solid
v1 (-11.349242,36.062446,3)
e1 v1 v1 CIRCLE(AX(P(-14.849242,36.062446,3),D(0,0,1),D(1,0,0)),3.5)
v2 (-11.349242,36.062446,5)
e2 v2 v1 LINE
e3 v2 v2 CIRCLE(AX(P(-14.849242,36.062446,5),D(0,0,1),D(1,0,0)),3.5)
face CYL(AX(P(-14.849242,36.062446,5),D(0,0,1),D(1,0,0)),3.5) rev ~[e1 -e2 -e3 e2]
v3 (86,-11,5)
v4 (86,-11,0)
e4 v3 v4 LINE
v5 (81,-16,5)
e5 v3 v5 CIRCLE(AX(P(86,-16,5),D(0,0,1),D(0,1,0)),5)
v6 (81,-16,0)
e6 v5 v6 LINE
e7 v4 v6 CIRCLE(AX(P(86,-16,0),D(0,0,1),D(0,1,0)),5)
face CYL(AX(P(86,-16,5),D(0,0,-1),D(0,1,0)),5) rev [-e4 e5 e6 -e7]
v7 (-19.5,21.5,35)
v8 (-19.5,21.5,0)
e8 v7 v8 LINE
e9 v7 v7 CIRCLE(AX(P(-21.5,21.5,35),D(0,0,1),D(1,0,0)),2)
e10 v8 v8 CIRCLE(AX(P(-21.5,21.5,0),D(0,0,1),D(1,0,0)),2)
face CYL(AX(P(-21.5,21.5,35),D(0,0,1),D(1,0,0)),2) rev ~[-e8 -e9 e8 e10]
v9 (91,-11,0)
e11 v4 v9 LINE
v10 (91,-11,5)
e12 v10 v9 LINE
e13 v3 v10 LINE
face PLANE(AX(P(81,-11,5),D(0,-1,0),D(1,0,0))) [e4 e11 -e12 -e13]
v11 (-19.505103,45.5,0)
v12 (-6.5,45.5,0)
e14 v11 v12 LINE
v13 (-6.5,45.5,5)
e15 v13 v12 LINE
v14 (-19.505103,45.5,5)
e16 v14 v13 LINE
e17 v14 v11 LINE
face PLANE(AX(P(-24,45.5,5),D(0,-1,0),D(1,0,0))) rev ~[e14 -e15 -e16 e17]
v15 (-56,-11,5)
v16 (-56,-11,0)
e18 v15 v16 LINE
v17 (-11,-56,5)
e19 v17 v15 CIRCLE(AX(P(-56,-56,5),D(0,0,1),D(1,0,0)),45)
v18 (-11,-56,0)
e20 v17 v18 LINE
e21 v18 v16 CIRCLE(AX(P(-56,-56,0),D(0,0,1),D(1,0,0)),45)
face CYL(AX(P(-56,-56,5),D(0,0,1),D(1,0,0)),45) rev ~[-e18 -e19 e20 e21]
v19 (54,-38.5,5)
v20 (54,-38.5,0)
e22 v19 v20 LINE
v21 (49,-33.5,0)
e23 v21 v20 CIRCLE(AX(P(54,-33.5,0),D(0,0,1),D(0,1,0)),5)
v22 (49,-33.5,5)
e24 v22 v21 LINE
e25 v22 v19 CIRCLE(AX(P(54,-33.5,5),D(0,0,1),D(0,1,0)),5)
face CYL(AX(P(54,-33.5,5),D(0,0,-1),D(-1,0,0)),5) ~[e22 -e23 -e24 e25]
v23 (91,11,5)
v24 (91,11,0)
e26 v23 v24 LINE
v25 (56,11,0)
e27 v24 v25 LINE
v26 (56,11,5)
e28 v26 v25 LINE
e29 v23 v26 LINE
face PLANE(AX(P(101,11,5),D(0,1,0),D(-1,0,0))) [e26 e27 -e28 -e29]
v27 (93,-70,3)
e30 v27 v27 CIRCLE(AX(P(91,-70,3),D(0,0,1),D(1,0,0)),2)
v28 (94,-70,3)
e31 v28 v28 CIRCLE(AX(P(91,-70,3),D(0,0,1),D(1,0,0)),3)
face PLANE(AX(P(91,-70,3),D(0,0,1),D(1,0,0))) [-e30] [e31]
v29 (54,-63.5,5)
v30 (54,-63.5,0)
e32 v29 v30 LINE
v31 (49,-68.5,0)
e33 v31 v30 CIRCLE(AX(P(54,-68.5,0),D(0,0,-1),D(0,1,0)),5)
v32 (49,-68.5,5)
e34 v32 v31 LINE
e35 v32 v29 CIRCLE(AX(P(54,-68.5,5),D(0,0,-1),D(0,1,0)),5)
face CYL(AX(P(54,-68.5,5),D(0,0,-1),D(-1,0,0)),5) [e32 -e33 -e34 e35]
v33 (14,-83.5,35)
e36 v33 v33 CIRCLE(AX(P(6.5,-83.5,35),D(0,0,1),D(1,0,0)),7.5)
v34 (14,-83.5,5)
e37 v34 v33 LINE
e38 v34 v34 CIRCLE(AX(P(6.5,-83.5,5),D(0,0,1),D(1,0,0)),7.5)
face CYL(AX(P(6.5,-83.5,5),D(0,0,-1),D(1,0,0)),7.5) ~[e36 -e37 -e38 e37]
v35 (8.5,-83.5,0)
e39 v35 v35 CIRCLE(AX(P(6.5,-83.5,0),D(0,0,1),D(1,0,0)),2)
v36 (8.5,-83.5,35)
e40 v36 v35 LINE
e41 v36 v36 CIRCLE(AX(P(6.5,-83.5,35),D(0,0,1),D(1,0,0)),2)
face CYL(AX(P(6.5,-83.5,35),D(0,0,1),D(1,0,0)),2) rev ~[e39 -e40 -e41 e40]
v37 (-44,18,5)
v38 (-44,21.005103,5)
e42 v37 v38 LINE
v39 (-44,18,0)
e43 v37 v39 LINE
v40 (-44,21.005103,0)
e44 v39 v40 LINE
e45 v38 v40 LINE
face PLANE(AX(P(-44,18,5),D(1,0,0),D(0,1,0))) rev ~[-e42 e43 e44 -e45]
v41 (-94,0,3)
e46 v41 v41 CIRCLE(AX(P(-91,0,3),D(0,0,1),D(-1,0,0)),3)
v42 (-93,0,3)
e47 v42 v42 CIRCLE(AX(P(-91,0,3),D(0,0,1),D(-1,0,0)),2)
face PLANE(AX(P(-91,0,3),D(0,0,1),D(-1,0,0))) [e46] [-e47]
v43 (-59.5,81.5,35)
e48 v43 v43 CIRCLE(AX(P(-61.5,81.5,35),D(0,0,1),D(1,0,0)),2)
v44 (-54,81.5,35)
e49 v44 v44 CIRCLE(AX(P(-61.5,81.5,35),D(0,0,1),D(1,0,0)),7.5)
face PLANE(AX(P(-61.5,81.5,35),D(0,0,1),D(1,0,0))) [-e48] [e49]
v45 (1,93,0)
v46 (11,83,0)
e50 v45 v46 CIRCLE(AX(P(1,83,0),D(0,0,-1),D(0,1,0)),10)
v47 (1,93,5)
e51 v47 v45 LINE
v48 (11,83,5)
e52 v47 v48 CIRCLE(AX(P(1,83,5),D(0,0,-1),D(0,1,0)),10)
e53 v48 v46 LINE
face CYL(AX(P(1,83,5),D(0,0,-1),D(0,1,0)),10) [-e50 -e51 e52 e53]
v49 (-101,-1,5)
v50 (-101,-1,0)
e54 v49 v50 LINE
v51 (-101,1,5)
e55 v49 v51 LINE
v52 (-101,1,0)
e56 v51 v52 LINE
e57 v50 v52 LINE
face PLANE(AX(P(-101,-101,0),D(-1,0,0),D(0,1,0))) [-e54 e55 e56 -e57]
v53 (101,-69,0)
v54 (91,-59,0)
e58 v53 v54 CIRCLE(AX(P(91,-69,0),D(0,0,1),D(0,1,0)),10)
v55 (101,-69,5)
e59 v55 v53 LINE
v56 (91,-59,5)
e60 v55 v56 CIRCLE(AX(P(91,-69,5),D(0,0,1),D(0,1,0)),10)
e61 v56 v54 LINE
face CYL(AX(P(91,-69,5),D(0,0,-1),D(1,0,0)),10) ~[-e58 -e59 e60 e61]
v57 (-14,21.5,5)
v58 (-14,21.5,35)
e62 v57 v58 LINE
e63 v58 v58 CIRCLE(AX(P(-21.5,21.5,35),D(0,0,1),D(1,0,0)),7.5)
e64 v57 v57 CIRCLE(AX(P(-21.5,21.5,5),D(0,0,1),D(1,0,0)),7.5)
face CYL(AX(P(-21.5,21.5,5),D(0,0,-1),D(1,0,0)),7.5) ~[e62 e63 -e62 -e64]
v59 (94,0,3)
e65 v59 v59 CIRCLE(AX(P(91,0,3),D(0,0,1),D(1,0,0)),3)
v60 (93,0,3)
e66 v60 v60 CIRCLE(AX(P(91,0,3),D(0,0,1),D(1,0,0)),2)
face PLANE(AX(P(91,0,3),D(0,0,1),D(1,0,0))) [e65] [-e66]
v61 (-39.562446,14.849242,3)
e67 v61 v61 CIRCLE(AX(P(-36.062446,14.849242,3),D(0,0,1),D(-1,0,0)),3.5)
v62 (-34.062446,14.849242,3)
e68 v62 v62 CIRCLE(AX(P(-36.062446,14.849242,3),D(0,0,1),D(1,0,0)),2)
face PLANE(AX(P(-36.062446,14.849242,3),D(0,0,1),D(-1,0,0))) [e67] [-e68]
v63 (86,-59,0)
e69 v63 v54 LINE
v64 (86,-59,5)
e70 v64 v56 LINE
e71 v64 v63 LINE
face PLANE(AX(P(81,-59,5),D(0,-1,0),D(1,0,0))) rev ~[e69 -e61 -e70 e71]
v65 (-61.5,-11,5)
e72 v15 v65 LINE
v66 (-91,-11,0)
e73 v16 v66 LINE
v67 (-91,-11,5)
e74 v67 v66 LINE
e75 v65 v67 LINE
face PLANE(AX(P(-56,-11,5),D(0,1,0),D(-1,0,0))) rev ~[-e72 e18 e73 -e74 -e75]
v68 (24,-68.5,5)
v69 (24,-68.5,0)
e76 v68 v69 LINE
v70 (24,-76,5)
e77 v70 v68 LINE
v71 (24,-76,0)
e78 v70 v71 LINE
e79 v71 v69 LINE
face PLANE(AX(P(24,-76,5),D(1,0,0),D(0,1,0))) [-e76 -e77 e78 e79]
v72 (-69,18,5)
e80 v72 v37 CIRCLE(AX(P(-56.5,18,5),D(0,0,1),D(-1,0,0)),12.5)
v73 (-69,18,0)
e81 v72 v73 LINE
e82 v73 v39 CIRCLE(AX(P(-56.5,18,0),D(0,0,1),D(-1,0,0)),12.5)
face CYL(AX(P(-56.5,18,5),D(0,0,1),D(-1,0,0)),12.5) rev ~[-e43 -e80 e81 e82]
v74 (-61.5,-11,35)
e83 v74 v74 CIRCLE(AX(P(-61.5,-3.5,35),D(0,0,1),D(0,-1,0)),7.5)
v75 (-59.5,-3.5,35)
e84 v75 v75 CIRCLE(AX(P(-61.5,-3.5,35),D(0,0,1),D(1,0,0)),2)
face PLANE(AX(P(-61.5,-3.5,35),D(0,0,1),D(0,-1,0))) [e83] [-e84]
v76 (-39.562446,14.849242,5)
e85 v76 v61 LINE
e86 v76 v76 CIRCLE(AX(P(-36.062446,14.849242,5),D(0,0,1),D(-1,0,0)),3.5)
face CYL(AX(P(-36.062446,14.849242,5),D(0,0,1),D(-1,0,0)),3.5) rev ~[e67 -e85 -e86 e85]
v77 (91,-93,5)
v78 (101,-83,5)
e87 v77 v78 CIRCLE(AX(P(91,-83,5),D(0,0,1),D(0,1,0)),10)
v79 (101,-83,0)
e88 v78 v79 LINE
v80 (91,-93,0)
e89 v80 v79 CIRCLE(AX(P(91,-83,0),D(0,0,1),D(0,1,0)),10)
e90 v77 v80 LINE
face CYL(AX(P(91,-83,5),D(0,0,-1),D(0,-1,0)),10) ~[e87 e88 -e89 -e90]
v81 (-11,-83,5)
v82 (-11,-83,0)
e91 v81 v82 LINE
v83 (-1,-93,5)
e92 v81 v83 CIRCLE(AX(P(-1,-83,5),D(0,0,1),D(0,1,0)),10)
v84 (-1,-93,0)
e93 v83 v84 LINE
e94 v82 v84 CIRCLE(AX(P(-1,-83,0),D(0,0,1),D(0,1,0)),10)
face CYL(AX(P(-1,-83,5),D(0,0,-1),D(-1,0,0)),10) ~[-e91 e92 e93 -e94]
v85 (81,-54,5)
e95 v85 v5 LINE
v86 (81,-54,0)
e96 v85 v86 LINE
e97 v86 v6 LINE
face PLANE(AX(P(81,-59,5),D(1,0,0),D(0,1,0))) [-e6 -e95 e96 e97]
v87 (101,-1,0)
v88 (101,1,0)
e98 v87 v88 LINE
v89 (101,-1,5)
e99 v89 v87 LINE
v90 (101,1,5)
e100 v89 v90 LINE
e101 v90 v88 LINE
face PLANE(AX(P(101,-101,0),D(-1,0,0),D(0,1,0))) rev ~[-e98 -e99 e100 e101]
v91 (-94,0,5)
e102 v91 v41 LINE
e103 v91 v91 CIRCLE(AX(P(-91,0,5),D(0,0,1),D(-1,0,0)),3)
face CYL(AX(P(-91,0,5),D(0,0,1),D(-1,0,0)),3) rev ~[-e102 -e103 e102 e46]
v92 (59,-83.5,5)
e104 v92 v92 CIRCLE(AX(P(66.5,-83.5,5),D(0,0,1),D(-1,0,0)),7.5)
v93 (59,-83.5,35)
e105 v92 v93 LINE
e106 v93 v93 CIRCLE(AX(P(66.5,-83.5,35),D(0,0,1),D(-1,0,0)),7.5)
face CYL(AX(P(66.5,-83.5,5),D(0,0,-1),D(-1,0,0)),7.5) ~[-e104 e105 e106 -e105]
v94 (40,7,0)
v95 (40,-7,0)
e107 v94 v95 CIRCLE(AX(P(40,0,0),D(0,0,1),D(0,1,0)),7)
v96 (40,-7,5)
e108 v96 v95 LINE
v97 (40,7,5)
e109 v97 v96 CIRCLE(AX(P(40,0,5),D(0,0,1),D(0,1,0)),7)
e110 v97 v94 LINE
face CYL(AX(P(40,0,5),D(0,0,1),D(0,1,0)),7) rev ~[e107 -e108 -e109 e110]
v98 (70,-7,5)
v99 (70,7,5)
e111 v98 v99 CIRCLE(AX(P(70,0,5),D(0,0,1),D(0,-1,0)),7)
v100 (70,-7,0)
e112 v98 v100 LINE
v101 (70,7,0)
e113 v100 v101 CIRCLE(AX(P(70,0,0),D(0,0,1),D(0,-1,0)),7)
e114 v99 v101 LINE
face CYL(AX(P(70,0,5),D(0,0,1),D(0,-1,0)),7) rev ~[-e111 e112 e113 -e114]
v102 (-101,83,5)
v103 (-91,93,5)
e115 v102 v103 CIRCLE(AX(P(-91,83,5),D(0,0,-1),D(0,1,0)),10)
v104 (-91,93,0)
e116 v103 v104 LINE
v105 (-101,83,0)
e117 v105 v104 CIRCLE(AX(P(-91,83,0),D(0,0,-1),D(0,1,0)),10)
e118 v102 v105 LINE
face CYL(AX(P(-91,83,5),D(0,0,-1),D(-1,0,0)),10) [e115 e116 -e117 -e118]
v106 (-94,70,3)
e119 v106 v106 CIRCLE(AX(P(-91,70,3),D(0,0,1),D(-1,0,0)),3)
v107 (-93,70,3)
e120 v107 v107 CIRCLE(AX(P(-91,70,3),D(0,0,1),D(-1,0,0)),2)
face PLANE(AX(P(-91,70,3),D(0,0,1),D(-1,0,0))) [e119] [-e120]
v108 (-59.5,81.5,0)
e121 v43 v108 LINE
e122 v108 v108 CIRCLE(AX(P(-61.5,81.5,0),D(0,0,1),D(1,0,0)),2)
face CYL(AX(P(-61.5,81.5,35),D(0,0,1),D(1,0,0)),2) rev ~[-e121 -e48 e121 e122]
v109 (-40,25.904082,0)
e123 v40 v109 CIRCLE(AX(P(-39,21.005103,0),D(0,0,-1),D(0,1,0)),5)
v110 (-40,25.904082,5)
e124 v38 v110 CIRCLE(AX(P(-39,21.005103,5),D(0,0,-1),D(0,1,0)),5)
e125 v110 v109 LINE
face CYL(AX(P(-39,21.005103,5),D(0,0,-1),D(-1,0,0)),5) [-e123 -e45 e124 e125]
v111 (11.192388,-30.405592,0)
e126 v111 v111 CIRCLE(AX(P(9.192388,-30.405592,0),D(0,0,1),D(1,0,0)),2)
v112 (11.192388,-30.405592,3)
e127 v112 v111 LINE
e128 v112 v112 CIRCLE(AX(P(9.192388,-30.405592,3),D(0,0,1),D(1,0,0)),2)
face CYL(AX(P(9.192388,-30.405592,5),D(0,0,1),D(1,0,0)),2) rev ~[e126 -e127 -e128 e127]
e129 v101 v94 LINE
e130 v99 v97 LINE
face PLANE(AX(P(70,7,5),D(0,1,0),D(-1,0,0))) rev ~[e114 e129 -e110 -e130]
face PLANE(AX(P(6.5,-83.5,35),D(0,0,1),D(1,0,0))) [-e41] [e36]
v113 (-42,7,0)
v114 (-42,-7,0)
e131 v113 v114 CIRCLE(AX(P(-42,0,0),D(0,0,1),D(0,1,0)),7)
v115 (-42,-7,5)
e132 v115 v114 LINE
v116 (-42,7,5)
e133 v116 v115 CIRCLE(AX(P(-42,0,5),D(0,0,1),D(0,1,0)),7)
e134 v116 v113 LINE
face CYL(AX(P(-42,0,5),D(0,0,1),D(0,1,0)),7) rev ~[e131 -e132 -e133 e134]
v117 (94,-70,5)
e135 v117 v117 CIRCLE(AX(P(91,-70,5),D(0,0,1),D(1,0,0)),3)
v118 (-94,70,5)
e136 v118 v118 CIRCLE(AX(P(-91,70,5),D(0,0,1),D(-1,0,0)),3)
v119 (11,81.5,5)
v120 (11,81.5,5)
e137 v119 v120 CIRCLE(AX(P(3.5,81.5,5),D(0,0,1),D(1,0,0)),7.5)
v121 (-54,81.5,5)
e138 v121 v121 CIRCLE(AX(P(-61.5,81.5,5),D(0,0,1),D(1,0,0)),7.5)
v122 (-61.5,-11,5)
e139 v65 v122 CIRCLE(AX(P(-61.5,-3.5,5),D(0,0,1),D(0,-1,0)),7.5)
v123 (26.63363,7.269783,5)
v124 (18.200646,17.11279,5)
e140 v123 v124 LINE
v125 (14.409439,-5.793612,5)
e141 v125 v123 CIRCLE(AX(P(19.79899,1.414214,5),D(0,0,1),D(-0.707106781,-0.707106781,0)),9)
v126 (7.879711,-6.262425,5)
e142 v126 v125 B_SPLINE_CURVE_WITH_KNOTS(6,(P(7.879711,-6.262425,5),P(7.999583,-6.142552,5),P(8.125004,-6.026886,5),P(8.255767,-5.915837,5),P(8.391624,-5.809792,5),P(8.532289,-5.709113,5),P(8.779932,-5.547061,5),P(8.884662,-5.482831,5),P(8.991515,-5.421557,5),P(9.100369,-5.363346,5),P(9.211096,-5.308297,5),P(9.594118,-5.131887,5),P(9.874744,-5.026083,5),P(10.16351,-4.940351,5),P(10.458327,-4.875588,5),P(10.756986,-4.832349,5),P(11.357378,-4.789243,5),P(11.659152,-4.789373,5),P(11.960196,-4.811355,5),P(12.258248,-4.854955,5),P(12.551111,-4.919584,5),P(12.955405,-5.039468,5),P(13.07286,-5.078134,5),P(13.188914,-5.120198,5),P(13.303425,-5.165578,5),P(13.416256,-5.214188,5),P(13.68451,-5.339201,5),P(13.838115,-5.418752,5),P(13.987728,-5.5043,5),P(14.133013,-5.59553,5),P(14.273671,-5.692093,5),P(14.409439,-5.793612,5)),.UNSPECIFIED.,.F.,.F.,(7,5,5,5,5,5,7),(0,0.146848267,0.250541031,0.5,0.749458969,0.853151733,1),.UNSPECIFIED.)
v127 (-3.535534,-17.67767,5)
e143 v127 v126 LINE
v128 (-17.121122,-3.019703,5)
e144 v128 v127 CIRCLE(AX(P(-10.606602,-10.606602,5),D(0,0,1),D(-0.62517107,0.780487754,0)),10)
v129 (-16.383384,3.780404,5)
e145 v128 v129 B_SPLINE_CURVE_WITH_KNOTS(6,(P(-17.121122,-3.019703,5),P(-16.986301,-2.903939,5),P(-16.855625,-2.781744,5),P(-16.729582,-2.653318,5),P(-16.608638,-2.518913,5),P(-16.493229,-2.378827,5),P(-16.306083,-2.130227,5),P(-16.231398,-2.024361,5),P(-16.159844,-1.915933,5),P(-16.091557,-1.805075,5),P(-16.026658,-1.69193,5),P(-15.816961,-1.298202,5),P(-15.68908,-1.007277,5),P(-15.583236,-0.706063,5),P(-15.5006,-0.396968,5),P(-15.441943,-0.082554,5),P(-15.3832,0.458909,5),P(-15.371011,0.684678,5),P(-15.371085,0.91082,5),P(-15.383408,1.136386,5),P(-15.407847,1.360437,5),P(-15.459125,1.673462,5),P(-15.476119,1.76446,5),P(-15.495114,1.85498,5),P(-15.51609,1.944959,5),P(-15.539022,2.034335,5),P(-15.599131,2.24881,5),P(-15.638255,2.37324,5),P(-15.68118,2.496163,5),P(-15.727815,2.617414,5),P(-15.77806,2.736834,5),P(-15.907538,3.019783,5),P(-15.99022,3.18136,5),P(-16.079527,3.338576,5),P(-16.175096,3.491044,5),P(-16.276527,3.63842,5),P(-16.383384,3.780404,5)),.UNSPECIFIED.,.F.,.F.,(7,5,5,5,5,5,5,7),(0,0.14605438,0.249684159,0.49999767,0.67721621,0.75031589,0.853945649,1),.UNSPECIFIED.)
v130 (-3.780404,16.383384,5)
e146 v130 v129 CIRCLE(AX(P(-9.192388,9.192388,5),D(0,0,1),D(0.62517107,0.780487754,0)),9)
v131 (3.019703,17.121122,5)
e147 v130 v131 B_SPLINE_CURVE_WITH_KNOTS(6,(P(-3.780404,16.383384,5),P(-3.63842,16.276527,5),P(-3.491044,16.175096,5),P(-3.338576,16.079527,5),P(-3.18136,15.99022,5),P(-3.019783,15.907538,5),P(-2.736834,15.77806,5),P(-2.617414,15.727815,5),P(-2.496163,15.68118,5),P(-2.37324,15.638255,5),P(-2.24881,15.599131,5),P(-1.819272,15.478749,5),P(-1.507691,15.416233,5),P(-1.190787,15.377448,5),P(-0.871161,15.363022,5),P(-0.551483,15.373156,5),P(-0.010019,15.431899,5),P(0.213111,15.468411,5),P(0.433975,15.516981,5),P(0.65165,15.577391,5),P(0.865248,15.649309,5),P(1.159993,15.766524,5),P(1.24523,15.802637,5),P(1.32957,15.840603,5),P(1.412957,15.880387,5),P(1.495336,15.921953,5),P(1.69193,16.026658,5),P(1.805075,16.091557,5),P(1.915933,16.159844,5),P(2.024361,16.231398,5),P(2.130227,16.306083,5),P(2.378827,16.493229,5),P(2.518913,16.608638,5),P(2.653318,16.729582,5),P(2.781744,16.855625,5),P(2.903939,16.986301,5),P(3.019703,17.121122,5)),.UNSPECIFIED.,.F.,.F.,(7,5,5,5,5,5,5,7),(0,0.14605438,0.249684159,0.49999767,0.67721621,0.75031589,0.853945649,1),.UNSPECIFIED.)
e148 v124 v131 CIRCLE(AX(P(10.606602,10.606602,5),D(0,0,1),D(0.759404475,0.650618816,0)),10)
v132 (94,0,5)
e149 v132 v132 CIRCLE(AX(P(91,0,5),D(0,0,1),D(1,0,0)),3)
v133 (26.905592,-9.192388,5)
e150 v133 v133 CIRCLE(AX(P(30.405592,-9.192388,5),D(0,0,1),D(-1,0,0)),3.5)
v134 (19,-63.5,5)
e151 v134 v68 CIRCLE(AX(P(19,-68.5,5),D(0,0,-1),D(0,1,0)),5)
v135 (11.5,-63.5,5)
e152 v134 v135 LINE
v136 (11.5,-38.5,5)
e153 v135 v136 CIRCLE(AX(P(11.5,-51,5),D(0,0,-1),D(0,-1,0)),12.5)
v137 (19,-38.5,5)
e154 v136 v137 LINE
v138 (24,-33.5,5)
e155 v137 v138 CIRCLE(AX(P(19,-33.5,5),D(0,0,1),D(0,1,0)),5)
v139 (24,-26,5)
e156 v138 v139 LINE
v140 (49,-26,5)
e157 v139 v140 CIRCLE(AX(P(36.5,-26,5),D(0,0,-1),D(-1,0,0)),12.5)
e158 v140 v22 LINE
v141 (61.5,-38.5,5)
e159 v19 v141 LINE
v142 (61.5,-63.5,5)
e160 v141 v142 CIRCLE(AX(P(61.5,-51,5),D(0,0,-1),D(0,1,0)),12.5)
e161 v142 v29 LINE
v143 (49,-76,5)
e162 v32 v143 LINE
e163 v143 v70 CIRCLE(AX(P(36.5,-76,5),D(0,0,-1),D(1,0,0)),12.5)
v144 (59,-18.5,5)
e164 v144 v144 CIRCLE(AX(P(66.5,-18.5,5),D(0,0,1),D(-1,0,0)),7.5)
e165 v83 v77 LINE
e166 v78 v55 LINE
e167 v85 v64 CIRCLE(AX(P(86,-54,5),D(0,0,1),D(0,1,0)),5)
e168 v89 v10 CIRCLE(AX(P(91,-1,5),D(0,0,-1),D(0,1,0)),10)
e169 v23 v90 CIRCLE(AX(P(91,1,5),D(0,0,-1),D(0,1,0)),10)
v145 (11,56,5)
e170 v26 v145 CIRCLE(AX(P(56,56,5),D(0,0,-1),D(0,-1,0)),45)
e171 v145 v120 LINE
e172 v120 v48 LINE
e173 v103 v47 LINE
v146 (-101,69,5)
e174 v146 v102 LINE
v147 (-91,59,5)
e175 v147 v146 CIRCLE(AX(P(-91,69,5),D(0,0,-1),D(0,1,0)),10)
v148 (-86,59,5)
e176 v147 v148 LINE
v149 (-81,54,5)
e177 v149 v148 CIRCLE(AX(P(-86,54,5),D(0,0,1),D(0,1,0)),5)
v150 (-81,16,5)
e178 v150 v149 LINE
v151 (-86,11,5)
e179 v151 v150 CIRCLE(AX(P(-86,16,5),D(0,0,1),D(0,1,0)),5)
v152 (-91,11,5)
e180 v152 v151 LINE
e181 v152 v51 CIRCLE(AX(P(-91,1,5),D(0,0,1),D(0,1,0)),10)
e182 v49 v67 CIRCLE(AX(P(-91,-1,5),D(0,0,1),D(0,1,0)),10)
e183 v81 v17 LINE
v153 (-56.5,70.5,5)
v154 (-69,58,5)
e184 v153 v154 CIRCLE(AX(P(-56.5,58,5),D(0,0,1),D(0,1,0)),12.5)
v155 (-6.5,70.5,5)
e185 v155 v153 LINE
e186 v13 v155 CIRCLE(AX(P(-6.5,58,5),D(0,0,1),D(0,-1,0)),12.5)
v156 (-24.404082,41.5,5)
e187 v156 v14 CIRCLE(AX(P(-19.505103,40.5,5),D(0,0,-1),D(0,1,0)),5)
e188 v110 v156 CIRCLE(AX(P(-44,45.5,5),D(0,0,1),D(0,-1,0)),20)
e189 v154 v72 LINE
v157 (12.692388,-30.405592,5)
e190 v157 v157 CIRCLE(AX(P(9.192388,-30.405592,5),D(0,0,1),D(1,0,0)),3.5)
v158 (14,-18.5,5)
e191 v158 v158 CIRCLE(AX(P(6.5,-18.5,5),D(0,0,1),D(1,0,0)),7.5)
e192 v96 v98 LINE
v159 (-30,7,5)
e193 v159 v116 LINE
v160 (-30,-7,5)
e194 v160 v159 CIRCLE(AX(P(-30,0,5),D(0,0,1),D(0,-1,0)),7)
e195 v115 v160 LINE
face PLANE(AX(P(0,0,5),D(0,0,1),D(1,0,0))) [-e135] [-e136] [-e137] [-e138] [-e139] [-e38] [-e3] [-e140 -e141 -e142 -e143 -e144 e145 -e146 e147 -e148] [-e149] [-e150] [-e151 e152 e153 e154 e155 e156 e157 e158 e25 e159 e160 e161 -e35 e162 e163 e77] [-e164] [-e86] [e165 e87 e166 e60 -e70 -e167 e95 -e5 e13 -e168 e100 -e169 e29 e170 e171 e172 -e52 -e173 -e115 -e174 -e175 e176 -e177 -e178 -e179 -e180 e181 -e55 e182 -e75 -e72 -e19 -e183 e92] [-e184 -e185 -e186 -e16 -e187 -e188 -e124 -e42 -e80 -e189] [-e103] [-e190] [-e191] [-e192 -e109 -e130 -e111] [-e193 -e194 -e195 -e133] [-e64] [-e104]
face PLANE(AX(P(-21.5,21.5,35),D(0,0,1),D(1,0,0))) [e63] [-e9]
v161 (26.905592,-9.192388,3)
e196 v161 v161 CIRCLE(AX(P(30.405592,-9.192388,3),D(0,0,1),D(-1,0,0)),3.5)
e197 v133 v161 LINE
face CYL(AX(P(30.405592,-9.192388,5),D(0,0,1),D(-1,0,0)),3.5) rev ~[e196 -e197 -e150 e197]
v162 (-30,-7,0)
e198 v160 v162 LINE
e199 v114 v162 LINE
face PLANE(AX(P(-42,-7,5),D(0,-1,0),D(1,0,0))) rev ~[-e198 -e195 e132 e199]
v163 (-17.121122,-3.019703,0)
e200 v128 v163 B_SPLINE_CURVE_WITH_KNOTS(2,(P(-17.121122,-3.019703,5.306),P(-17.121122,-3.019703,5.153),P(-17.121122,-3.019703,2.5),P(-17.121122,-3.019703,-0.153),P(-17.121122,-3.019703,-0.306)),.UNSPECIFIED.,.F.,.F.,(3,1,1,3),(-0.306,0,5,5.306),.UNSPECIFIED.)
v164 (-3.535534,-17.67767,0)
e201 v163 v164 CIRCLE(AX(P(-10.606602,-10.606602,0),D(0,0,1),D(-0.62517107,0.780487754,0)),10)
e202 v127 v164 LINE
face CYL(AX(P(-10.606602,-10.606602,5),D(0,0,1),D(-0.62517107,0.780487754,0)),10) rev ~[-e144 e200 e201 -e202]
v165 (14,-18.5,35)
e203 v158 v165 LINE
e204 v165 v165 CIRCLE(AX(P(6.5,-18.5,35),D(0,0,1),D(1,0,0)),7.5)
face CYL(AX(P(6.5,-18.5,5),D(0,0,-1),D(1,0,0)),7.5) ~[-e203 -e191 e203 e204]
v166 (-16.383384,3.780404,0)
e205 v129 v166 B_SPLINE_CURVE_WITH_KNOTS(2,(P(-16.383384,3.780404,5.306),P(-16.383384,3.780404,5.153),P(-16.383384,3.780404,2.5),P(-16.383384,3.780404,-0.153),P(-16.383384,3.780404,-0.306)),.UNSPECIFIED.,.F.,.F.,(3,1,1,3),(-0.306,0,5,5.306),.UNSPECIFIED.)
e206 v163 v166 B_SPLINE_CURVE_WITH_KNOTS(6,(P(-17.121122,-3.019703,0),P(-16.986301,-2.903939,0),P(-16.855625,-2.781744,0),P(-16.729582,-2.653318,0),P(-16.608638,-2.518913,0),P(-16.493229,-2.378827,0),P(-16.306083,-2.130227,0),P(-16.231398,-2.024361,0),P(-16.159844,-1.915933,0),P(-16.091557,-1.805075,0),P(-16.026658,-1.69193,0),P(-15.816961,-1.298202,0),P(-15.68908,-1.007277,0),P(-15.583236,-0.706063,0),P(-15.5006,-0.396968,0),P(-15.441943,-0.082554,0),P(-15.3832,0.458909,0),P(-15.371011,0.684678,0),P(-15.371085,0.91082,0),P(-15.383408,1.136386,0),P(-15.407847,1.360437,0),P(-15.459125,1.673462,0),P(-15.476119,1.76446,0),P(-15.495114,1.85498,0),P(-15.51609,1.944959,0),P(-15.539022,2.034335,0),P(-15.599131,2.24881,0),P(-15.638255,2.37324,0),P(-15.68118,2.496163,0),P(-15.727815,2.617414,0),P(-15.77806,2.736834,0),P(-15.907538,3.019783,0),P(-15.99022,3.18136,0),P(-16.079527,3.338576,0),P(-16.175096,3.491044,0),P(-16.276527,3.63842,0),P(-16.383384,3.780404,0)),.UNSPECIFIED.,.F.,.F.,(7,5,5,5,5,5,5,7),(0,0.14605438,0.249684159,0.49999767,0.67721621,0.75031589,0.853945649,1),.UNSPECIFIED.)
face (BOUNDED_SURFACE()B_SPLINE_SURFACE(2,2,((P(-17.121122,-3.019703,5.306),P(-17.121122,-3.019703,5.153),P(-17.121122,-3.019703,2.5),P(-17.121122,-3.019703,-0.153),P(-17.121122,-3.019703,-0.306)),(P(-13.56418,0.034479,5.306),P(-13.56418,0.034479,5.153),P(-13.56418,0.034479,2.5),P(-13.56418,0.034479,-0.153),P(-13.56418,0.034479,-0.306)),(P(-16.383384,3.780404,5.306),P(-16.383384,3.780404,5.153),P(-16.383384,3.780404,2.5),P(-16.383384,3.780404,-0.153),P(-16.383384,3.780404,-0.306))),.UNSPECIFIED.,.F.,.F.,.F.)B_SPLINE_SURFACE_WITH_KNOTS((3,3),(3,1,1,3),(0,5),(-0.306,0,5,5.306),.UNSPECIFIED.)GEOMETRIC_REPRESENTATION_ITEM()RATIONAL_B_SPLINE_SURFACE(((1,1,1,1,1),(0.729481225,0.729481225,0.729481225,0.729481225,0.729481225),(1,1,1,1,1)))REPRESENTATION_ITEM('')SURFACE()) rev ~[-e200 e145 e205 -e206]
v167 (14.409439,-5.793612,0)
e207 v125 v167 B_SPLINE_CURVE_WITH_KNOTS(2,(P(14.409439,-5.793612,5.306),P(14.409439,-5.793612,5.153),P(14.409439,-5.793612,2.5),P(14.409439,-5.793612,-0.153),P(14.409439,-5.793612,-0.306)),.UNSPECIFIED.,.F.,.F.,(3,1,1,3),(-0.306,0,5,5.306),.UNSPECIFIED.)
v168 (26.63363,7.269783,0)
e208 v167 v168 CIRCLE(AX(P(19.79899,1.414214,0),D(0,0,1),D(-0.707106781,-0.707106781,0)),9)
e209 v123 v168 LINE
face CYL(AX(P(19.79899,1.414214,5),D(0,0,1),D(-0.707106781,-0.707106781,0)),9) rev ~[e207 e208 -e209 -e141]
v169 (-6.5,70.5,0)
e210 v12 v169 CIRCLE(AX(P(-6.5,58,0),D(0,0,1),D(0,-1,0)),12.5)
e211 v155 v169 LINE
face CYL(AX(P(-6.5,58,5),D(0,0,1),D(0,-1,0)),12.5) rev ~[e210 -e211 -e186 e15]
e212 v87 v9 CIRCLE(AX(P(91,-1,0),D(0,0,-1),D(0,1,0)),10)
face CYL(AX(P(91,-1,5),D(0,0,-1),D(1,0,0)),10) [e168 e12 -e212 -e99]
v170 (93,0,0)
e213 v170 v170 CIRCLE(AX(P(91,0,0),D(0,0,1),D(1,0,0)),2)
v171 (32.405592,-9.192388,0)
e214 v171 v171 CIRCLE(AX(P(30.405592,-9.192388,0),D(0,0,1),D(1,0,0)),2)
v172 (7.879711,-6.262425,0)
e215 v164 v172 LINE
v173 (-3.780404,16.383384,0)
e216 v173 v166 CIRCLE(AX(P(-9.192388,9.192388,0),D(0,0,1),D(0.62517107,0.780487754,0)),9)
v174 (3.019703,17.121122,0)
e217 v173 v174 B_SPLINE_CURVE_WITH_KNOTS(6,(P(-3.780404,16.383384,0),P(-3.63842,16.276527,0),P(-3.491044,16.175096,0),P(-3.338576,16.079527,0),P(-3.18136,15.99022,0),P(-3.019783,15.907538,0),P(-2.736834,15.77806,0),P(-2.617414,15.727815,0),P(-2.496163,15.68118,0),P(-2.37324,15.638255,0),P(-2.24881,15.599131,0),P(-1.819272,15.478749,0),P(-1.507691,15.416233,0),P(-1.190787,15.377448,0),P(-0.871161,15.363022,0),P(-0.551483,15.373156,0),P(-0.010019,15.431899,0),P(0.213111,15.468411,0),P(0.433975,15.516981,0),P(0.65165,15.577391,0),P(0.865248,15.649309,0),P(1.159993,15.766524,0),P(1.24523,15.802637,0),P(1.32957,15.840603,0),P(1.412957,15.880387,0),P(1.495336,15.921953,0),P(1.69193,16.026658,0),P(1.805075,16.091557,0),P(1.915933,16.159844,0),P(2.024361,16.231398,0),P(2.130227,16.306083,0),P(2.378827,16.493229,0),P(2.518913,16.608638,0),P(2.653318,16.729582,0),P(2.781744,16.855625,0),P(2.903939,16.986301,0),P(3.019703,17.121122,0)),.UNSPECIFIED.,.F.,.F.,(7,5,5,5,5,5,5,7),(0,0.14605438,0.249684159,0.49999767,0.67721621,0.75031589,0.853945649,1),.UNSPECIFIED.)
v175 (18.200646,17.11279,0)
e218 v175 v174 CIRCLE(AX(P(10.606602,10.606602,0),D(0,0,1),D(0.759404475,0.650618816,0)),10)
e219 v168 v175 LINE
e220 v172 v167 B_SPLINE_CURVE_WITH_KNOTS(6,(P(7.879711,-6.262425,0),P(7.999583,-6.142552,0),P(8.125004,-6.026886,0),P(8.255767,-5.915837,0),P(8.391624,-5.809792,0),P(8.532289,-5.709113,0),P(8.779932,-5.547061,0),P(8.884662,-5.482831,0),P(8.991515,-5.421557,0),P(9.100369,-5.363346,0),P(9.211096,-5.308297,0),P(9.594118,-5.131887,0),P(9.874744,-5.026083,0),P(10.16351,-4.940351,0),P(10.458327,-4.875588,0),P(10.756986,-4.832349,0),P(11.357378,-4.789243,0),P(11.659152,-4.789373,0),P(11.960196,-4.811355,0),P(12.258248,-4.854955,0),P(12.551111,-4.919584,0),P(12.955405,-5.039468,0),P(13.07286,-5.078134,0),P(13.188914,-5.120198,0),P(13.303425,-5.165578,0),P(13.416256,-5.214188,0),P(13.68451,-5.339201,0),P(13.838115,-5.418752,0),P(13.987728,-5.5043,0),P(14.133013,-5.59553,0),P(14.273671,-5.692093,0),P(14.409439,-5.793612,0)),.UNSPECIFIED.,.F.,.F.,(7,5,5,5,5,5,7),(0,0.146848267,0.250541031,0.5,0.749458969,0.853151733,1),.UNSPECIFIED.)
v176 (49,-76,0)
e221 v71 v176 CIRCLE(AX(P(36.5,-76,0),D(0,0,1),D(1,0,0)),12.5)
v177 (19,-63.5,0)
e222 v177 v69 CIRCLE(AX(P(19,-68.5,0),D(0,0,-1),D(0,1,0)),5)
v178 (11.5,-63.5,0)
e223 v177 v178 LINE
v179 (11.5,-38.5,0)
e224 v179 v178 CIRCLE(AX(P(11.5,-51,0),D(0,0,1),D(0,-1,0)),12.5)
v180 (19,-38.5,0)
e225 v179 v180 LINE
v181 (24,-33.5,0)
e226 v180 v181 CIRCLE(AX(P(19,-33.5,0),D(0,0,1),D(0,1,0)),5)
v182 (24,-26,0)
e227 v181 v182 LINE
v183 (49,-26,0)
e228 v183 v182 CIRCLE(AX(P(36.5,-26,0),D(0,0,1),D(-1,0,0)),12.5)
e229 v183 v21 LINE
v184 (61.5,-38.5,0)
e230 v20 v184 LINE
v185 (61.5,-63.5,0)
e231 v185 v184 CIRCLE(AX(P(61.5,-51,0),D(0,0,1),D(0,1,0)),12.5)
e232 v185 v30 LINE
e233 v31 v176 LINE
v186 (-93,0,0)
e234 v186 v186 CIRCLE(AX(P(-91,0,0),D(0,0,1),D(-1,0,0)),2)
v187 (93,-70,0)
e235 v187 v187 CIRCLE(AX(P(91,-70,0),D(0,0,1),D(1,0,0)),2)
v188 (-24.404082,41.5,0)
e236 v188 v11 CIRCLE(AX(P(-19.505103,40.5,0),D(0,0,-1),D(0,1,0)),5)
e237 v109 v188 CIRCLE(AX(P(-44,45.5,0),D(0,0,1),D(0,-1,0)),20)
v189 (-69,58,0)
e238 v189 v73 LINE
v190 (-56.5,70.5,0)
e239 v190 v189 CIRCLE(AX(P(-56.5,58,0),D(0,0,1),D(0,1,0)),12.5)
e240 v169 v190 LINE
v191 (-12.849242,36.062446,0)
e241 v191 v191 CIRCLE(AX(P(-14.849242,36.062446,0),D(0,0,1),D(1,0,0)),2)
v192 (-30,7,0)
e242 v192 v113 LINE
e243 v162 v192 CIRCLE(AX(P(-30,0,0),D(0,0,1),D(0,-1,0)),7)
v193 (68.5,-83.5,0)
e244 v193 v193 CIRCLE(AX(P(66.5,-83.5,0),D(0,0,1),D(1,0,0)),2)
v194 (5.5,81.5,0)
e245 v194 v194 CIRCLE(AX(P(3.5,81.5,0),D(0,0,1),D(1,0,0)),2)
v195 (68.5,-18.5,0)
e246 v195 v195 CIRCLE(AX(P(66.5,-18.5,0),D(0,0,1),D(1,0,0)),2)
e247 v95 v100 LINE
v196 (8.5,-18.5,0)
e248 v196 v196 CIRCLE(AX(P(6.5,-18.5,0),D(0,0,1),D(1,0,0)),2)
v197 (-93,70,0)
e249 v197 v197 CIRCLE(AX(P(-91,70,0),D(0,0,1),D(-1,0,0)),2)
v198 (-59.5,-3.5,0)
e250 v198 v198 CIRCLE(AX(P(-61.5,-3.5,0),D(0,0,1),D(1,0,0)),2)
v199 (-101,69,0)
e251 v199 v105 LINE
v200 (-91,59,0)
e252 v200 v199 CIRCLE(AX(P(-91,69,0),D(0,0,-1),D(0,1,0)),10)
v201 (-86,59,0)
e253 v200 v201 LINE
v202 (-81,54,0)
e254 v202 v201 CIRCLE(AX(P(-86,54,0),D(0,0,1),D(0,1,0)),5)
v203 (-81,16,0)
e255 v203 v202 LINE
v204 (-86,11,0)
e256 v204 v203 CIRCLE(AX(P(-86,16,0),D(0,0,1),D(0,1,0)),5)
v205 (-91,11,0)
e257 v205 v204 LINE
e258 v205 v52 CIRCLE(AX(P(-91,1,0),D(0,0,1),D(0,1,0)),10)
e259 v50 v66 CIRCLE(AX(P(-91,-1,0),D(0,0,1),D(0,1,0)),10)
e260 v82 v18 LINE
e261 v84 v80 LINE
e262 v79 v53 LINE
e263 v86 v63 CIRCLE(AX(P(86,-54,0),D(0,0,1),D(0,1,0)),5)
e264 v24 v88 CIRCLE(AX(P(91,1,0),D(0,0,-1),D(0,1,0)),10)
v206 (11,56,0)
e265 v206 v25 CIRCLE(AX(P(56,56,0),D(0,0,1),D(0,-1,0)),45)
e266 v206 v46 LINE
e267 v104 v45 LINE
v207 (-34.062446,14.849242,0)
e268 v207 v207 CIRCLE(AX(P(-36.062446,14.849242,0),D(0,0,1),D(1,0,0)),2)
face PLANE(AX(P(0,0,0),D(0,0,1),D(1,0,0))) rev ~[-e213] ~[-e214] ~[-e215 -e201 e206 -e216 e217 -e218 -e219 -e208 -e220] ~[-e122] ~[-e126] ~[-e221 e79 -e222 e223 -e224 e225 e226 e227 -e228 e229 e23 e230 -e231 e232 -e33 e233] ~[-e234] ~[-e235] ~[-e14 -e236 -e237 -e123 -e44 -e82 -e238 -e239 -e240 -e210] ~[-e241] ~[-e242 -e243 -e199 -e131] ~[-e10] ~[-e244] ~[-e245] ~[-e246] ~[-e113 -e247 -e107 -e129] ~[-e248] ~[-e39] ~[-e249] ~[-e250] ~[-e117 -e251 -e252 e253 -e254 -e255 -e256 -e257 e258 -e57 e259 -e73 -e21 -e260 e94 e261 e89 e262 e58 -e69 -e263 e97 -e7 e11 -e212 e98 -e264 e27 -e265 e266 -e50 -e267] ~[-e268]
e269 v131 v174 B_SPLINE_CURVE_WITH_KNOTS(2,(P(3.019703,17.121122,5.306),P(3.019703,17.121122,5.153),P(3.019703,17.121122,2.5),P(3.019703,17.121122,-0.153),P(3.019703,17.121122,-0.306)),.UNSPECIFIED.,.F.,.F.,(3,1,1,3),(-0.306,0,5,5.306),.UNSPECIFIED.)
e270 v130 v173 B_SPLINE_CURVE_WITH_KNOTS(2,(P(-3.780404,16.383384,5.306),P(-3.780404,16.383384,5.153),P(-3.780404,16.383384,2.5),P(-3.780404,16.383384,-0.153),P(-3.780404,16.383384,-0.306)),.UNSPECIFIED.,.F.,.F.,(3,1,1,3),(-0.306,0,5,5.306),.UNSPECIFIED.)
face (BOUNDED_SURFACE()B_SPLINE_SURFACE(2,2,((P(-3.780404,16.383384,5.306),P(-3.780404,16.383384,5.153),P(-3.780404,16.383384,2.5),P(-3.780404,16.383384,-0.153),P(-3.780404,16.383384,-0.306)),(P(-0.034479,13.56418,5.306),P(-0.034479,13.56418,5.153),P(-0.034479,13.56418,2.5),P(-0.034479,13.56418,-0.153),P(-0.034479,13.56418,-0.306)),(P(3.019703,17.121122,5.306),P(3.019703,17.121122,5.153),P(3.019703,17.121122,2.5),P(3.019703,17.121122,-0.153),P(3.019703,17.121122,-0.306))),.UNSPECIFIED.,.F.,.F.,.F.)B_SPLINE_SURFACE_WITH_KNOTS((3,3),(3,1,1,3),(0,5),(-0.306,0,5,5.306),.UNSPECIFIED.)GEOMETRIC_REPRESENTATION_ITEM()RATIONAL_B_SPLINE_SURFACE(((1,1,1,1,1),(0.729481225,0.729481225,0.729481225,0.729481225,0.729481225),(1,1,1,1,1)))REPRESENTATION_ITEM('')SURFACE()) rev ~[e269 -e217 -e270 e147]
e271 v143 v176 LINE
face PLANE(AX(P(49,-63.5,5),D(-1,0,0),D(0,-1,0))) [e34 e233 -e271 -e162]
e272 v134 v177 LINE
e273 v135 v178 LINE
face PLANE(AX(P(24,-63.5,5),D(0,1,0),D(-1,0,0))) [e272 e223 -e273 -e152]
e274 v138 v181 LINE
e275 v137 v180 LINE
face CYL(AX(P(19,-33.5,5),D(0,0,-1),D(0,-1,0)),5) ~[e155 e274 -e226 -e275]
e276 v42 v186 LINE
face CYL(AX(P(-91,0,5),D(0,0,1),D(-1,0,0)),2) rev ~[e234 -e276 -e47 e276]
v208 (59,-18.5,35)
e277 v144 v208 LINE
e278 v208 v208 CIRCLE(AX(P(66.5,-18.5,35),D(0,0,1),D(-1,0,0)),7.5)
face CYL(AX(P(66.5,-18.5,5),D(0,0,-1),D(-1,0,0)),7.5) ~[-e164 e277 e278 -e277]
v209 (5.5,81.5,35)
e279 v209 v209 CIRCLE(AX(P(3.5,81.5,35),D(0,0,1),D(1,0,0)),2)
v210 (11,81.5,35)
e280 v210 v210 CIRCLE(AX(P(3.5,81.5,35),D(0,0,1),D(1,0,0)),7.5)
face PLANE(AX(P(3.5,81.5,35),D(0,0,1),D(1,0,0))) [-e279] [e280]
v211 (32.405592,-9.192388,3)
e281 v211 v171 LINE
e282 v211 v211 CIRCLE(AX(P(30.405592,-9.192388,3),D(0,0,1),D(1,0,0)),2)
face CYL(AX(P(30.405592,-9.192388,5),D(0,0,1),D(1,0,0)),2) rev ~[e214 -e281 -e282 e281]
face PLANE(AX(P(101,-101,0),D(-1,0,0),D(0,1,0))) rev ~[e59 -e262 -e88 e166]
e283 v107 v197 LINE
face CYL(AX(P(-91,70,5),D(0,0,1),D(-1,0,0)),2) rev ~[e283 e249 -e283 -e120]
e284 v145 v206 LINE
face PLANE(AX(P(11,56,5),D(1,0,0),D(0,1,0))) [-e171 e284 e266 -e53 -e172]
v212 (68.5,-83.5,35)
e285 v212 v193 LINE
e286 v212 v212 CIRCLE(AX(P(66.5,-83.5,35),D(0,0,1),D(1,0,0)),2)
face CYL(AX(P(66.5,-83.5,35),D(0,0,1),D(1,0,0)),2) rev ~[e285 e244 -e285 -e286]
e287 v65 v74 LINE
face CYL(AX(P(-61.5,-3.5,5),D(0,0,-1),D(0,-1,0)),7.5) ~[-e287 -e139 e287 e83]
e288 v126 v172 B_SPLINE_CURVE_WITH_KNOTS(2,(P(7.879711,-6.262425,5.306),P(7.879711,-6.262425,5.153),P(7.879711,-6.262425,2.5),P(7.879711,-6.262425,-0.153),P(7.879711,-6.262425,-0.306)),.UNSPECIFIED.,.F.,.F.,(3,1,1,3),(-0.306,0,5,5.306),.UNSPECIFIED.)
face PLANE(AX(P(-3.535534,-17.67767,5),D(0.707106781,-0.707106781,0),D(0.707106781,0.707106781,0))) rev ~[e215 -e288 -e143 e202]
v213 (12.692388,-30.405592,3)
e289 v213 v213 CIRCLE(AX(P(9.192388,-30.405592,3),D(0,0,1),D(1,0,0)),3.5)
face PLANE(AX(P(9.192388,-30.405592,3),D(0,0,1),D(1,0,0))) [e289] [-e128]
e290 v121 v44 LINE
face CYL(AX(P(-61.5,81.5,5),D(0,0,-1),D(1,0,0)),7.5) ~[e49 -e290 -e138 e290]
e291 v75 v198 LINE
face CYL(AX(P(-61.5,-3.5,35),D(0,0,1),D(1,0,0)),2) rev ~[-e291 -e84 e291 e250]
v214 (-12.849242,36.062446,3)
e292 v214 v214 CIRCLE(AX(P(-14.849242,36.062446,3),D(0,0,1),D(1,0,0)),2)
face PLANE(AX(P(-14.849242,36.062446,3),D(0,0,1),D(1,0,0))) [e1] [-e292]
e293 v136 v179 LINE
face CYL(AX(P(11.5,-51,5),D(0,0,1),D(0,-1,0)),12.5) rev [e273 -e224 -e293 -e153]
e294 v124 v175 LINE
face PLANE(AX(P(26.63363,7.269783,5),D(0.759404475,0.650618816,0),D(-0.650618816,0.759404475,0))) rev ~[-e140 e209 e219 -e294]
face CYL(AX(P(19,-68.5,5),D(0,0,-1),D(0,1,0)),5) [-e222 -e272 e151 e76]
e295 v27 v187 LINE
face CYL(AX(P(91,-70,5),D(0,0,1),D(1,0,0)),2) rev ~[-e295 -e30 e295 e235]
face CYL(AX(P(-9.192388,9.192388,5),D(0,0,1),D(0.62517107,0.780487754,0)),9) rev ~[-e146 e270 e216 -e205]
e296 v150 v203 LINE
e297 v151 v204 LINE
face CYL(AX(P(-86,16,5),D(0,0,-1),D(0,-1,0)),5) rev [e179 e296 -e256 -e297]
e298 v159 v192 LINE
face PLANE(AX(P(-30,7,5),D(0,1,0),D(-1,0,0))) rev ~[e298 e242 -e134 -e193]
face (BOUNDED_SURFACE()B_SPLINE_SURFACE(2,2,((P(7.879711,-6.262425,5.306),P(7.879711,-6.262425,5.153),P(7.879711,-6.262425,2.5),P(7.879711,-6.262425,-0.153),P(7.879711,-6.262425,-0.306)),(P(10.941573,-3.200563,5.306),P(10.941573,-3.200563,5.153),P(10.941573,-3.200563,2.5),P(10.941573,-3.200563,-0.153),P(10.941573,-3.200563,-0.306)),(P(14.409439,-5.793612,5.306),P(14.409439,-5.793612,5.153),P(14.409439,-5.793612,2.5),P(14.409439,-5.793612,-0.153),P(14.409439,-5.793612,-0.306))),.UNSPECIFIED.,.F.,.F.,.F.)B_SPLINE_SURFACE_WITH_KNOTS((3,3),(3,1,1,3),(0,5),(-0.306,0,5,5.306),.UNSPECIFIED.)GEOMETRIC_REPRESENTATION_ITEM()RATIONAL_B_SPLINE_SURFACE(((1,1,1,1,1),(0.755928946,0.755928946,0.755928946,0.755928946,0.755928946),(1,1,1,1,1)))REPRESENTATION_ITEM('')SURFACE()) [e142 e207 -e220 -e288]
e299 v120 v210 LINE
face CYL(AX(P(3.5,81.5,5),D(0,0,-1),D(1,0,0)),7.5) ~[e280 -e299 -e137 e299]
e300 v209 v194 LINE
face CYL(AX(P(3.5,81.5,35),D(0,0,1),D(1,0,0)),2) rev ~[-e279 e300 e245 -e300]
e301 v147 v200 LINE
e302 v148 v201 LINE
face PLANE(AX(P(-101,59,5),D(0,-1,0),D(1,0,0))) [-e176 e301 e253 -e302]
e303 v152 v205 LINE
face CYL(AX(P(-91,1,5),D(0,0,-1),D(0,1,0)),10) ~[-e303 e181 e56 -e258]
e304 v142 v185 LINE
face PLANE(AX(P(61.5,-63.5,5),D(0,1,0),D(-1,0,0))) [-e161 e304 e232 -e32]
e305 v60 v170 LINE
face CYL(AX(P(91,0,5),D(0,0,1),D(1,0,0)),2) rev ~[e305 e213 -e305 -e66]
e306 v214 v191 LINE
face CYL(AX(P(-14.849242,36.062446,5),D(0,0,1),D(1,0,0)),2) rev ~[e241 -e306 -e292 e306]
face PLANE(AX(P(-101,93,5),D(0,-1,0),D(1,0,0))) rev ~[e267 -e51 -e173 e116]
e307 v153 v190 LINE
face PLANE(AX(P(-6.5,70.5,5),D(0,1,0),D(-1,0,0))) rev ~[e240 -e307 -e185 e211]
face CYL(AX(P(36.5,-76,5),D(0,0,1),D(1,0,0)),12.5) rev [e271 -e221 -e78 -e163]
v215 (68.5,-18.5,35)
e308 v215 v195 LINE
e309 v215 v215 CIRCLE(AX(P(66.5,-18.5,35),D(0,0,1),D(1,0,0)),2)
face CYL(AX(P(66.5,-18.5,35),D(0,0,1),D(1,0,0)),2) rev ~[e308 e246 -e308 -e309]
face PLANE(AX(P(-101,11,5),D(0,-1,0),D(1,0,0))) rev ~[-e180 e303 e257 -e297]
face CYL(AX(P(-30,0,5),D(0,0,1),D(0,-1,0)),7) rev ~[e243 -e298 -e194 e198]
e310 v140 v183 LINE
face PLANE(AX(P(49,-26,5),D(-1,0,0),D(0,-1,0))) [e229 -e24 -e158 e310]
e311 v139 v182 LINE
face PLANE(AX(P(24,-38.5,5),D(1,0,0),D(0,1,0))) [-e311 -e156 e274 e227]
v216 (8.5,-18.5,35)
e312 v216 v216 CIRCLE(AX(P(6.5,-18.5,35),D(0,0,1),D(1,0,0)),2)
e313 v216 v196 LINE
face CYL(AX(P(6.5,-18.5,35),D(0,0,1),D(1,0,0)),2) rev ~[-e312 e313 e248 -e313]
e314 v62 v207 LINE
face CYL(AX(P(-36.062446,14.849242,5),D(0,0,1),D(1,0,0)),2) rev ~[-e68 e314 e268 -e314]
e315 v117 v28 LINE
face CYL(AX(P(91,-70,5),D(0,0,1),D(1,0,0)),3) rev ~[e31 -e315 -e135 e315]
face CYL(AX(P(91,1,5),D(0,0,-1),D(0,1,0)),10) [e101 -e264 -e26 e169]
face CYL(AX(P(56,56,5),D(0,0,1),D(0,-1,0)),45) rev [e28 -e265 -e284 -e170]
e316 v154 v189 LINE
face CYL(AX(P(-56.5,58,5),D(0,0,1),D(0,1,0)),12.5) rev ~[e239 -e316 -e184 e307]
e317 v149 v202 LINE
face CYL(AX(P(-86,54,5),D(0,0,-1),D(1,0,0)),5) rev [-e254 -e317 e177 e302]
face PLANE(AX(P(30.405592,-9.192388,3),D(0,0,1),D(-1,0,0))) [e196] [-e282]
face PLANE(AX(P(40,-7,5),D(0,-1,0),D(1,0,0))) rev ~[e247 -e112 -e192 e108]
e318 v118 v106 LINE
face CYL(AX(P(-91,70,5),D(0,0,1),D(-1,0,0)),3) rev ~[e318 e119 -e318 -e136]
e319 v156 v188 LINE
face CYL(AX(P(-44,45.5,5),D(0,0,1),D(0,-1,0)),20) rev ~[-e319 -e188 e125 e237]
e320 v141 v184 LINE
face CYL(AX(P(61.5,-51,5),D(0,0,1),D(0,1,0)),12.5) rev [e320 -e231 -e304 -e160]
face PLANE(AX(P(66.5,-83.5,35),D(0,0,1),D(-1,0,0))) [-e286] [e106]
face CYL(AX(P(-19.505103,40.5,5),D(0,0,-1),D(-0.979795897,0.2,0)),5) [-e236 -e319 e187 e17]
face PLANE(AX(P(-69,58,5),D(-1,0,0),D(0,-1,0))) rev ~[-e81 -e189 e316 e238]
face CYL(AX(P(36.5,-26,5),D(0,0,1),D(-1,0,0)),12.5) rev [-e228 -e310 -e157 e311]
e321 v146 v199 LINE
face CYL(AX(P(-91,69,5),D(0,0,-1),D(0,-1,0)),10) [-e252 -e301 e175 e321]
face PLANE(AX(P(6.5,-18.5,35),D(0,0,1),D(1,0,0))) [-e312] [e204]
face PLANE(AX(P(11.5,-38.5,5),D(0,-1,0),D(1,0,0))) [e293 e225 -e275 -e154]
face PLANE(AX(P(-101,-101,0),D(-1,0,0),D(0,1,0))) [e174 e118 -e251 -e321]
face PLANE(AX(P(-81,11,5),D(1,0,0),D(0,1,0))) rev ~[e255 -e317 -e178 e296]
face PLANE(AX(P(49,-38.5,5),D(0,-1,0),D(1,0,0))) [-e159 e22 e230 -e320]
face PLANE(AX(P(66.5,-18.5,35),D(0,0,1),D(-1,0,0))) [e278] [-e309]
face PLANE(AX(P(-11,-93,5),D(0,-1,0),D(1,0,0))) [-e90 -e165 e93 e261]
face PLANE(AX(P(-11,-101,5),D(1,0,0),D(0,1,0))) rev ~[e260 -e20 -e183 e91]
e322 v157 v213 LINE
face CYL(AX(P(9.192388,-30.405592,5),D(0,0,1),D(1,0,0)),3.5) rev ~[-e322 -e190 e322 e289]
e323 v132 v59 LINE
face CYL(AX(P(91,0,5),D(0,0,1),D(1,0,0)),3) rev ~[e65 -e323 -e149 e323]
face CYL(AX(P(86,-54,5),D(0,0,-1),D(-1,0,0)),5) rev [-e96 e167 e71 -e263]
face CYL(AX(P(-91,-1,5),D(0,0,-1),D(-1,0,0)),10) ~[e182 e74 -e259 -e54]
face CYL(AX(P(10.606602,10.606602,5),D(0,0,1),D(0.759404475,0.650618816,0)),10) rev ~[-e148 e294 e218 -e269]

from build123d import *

# Parameters (mm, degrees)
SKICA1_W                 = 202
SKICA1_H                 = 202
P_IDAT_VYSUNUT_M1_DEPTH  = 5
ODEBRAT_VYSUNUT_M1_DEPTH = 10
SKICA3_R                 = 2
ODEBRAT_VYSUNUT_M2_DEPTH = 143.923056223
SKICA4_R                 = 3
ODEBRAT_VYSUNUT_M3_DEPTH = 2
SKICA6_R                 = 7.5
P_IDAT_VYSUNUT_M2_DEPTH  = 30
SKICA7_R                 = 2
ODEBRAT_VYSUNUT_M4_DEPTH = 148.061211745
SKICA9_R                 = 3.5
ODEBRAT_VYSUNUT_M6_DEPTH = 2
SKICA11_R                = 2
ODEBRAT_VYSUNUT_M7_DEPTH = 146.95204692
SKICA13_W                = 112
SKICA13_H                = 8
SKICA13_W_2              = 20
SKICA13_H_2              = 48
ODEBRAT_VYSUNUT_M8_DEPTH = 146.95204692
SKICA14_W                = 20
SKICA14_H                = 48
ODEBRAT_VYSUNUT_M9_DEPTH = 141.534693226
ZAOBLIT1_R               = 5
ZAOBLIT2_R               = 10


with BuildPart() as part:
    # Skica1 → Přidat vysunutím1 (new body)
    with BuildSketch(Plane.XY):
        Rectangle(SKICA1_W, SKICA1_H)
    extrude(amount=P_IDAT_VYSUNUT_M1_DEPTH)

    # Skica2 → Odebrat vysunutím1 (cut)
    with BuildSketch(Plane.XY.offset(5)):
        with BuildLine():
            Line((11, 56), (11, 101))
            Line((11, 101), (101, 101))
            Line((101, 101), (101, 11))
            Line((101, 11), (56, 11))
            ThreePointArc((56, 11), (24.180194847, 24.180194847), (11, 56))
        make_face()
        with BuildLine():
            Line((-56, -11), (-101, -11))
            Line((-101, -11), (-101, -101))
            Line((-101, -101), (-11, -101))
            Line((-11, -101), (-11, -56))
            ThreePointArc((-11, -56), (-24.180194847, -24.180194847), (-56, -11))
        make_face()
    extrude(amount=-ODEBRAT_VYSUNUT_M1_DEPTH, mode=Mode.SUBTRACT)

    # Skica3 → Odebrat vysunutím2 (cut, through all)
    with BuildSketch(Plane.XY.offset(5)):
        with Locations((91, 0)):
            Circle(SKICA3_R)
        with Locations(Location((-91, 0, 0), (0, 0, 180))):
            Circle(SKICA3_R)
        with Locations((91, -70)):
            Circle(SKICA3_R)
        with Locations(Location((-91, 70, 0), (0, 0, 180))):
            Circle(SKICA3_R)
    extrude(amount=-ODEBRAT_VYSUNUT_M2_DEPTH, mode=Mode.SUBTRACT)

    # Skica4 → Odebrat vysunutím3 (cut)
    with BuildSketch(Plane.XY.offset(5)):
        with Locations((91, 0)):
            Circle(SKICA4_R)
        with Locations(Location((-91, 0, 0), (0, 0, 180))):
            Circle(SKICA4_R)
        with Locations((91, -70)):
            Circle(SKICA4_R)
        with Locations(Location((-91, 70, 0), (0, 0, 180))):
            Circle(SKICA4_R)
    extrude(amount=-ODEBRAT_VYSUNUT_M3_DEPTH, mode=Mode.SUBTRACT)

    # Skica6 → Přidat vysunutím2 (add)
    with BuildSketch(Plane.XY.offset(5)):
        with Locations((-61.5, 81.5)):
            Circle(SKICA6_R)
        with Locations(Location((-61.5, -3.5, 0), (0, 0, 270))):
            Circle(SKICA6_R)
        with Locations((3.5, 81.5)):
            Circle(SKICA6_R)
        with Locations((-21.5, 21.5)):
            Circle(SKICA6_R)
        with Locations((6.5, -18.5)):
            Circle(SKICA6_R)
        with Locations((6.5, -83.5)):
            Circle(SKICA6_R)
        with Locations(Location((66.5, -18.5, 0), (0, 0, 180))):
            Circle(SKICA6_R)
        with Locations(Location((66.5, -83.5, 0), (0, 0, 180))):
            Circle(SKICA6_R)
    extrude(amount=P_IDAT_VYSUNUT_M2_DEPTH)

    # Skica7 → Odebrat vysunutím4 (cut, through all)
    with BuildSketch(Plane.XY.offset(35)):
        with Locations((-21.5, 21.5)):
            Circle(SKICA7_R)
        with Locations((-61.5, 81.5)):
            Circle(SKICA7_R)
        with Locations((3.5, 81.5)):
            Circle(SKICA7_R)
        with Locations((-61.5, -3.5)):
            Circle(SKICA7_R)
        with Locations((6.5, -18.5)):
            Circle(SKICA7_R)
        with Locations((66.5, -18.5)):
            Circle(SKICA7_R)
        with Locations((6.5, -83.5)):
            Circle(SKICA7_R)
        with Locations((66.5, -83.5)):
            Circle(SKICA7_R)
    extrude(amount=-ODEBRAT_VYSUNUT_M4_DEPTH, mode=Mode.SUBTRACT)

    # Skica9 → Odebrat vysunutím6 (cut)
    with BuildSketch(Plane.XY.offset(5)):
        with Locations((-14.849242405, 36.062445841)):
            Circle(SKICA9_R)
        with Locations(Location((-36.062445841, 14.849242405, 0), (0, 0, 180))):
            Circle(SKICA9_R)
        with Locations(Location((30.405591591, -9.192388155, 0), (0, 0, 180))):
            Circle(SKICA9_R)
        with Locations((9.192388155, -30.405591591)):
            Circle(SKICA9_R)
    extrude(amount=-ODEBRAT_VYSUNUT_M6_DEPTH, mode=Mode.SUBTRACT)

    # Skica11 → Odebrat vysunutím7 (cut, through all)
    with BuildSketch(Plane.XY.offset(5)):
        with Locations((-36.062445841, 14.849242405)):
            Circle(SKICA11_R)
        with Locations((-14.849242405, 36.062445841)):
            Circle(SKICA11_R)
        with Locations((30.405591591, -9.192388155)):
            Circle(SKICA11_R)
        with Locations((9.192388155, -30.405591591)):
            Circle(SKICA11_R)
    extrude(amount=-ODEBRAT_VYSUNUT_M7_DEPTH, mode=Mode.SUBTRACT)

    # Skica13 → Odebrat vysunutím8 (cut, through all)
    with BuildSketch(Plane.XY.offset(5)):
        with BuildLine():
            Line((11.5, -38.5), (24, -38.5))
            Line((24, -38.5), (24, -26))
            ThreePointArc((24, -26), (36.5, -13.5), (49, -26))
            Line((49, -26), (49, -38.5))
            Line((49, -38.5), (61.5, -38.5))
            ThreePointArc((61.5, -38.5), (74, -51), (61.5, -63.5))
            Line((61.5, -63.5), (49, -63.5))
            Line((49, -63.5), (49, -76))
            ThreePointArc((49, -76), (36.5, -88.5), (24, -76))
            Line((24, -76), (24, -63.5))
            Line((24, -63.5), (11.5, -63.5))
            ThreePointArc((11.5, -63.5), (-1, -51), (11.5, -38.5))
        make_face()
        with Locations((-45, 97)):
            Rectangle(SKICA13_W, SKICA13_H)
        with Locations((45, -97)):
            Rectangle(SKICA13_W, SKICA13_H)
        with Locations((91, -35)):
            Rectangle(SKICA13_W_2, SKICA13_H_2)
        with BuildLine():
            Line((-3.535533906, -17.67766953), (11.313708499, -2.828427125))
            Line((11.313708499, -2.828427125), (13.435028843, -4.949747468))
            ThreePointArc((13.435028843, -4.949747468), (25.913285858, -5.189980909), (26.633630146, 7.269782907))
            Line((26.633630146, 7.269782907), (18.200646465, 17.112789878))
            ThreePointArc((18.200646465, 17.112789878), (10.441367607, 20.605236509), (2.80172418, 16.858312414))
            Line((2.80172418, 16.858312414), (0, 13.360531537))
            Line((0, 13.360531537), (-3.565848529, 16.216777939))
            ThreePointArc((-3.565848529, 16.216777939), (-15.556349186, 15.556349186), (-16.216777939, 3.565848529))
            Line((-16.216777939, 3.565848529), (-13.360531537, 0))
            Line((-13.360531537, 0), (-16.858312414, -2.80172418))
            ThreePointArc((-16.858312414, -2.80172418), (-18.055848259, -17.278087757), (-3.535533906, -17.67766953))
        make_face()
        with BuildLine():
            Line((70, 7), (40, 7))
            ThreePointArc((40, 7), (33, 0), (40, -7))
            Line((40, -7), (70, -7))
            ThreePointArc((70, -7), (77, 0), (70, 7))
        make_face()
        with BuildLine():
            Line((-42, -7), (-30, -7))
            ThreePointArc((-30, -7), (-23, 0), (-30, 7))
            Line((-30, 7), (-42, 7))
            ThreePointArc((-42, 7), (-49, 0), (-42, -7))
        make_face()
    extrude(amount=-ODEBRAT_VYSUNUT_M8_DEPTH, mode=Mode.SUBTRACT)

    # Skica14 → Odebrat vysunutím9 (cut, through all)
    with BuildSketch(Plane.XY.offset(5)):
        with Locations((-91, 35)):
            Rectangle(SKICA14_W, SKICA14_H)
        with BuildLine():
            Line((-69, 58), (-69, 18))
            ThreePointArc((-69, 18), (-56.5, 5.5), (-44, 18))
            Line((-44, 18), (-44, 25.5))
            ThreePointArc((-44, 25.5), (-29.857864376, 31.357864376), (-24, 45.5))
            Line((-24, 45.5), (-6.5, 45.5))
            ThreePointArc((-6.5, 45.5), (6, 58), (-6.5, 70.5))
            Line((-6.5, 70.5), (-56.5, 70.5))
            ThreePointArc((-56.5, 70.5), (-65.338834765, 66.838834765), (-69, 58))
        make_face()
    extrude(amount=-ODEBRAT_VYSUNUT_M9_DEPTH, mode=Mode.SUBTRACT)

    # Zaoblit1
    zaoblit1_edges = [part.edges().sort_by_distance(p)[0] for p in [
        (49, -38.5, 2.5),
        (24, -38.5, 2.5),
        (49, -63.5, 2.5),
        (24, -63.5, 2.5),
        (81, -59, 2.5),
        (81, -11, 2.5),
        (-24, 45.5, 2.5),
        (-44, 25.5, 2.5),
        (-81, 59, 2.5),
        (-81, 11, 2.5),
        (11.313708499, -2.828427125, 2.5),
        (-13.360531537, 0, 2.5),
        (0, 13.360531537, 2.5),
    ]]
    fillet(zaoblit1_edges, radius=ZAOBLIT1_R)

    # Zaoblit2
    zaoblit2_edges = [part.edges().sort_by_distance(p)[0] for p in [
        (101, 11, 2.5),
        (-101, 93, 2.5),
        (11, 93, 2.5),
        (101, -11, 2.5),
        (101, -59, 2.5),
        (-11, -93, 2.5),
        (101, -93, 2.5),
        (-101, -11, 2.5),
        (-101, 11, 2.5),
        (-101, 59, 2.5),
    ]]
    fillet(zaoblit2_edges, radius=ZAOBLIT2_R)


solid = part.part
